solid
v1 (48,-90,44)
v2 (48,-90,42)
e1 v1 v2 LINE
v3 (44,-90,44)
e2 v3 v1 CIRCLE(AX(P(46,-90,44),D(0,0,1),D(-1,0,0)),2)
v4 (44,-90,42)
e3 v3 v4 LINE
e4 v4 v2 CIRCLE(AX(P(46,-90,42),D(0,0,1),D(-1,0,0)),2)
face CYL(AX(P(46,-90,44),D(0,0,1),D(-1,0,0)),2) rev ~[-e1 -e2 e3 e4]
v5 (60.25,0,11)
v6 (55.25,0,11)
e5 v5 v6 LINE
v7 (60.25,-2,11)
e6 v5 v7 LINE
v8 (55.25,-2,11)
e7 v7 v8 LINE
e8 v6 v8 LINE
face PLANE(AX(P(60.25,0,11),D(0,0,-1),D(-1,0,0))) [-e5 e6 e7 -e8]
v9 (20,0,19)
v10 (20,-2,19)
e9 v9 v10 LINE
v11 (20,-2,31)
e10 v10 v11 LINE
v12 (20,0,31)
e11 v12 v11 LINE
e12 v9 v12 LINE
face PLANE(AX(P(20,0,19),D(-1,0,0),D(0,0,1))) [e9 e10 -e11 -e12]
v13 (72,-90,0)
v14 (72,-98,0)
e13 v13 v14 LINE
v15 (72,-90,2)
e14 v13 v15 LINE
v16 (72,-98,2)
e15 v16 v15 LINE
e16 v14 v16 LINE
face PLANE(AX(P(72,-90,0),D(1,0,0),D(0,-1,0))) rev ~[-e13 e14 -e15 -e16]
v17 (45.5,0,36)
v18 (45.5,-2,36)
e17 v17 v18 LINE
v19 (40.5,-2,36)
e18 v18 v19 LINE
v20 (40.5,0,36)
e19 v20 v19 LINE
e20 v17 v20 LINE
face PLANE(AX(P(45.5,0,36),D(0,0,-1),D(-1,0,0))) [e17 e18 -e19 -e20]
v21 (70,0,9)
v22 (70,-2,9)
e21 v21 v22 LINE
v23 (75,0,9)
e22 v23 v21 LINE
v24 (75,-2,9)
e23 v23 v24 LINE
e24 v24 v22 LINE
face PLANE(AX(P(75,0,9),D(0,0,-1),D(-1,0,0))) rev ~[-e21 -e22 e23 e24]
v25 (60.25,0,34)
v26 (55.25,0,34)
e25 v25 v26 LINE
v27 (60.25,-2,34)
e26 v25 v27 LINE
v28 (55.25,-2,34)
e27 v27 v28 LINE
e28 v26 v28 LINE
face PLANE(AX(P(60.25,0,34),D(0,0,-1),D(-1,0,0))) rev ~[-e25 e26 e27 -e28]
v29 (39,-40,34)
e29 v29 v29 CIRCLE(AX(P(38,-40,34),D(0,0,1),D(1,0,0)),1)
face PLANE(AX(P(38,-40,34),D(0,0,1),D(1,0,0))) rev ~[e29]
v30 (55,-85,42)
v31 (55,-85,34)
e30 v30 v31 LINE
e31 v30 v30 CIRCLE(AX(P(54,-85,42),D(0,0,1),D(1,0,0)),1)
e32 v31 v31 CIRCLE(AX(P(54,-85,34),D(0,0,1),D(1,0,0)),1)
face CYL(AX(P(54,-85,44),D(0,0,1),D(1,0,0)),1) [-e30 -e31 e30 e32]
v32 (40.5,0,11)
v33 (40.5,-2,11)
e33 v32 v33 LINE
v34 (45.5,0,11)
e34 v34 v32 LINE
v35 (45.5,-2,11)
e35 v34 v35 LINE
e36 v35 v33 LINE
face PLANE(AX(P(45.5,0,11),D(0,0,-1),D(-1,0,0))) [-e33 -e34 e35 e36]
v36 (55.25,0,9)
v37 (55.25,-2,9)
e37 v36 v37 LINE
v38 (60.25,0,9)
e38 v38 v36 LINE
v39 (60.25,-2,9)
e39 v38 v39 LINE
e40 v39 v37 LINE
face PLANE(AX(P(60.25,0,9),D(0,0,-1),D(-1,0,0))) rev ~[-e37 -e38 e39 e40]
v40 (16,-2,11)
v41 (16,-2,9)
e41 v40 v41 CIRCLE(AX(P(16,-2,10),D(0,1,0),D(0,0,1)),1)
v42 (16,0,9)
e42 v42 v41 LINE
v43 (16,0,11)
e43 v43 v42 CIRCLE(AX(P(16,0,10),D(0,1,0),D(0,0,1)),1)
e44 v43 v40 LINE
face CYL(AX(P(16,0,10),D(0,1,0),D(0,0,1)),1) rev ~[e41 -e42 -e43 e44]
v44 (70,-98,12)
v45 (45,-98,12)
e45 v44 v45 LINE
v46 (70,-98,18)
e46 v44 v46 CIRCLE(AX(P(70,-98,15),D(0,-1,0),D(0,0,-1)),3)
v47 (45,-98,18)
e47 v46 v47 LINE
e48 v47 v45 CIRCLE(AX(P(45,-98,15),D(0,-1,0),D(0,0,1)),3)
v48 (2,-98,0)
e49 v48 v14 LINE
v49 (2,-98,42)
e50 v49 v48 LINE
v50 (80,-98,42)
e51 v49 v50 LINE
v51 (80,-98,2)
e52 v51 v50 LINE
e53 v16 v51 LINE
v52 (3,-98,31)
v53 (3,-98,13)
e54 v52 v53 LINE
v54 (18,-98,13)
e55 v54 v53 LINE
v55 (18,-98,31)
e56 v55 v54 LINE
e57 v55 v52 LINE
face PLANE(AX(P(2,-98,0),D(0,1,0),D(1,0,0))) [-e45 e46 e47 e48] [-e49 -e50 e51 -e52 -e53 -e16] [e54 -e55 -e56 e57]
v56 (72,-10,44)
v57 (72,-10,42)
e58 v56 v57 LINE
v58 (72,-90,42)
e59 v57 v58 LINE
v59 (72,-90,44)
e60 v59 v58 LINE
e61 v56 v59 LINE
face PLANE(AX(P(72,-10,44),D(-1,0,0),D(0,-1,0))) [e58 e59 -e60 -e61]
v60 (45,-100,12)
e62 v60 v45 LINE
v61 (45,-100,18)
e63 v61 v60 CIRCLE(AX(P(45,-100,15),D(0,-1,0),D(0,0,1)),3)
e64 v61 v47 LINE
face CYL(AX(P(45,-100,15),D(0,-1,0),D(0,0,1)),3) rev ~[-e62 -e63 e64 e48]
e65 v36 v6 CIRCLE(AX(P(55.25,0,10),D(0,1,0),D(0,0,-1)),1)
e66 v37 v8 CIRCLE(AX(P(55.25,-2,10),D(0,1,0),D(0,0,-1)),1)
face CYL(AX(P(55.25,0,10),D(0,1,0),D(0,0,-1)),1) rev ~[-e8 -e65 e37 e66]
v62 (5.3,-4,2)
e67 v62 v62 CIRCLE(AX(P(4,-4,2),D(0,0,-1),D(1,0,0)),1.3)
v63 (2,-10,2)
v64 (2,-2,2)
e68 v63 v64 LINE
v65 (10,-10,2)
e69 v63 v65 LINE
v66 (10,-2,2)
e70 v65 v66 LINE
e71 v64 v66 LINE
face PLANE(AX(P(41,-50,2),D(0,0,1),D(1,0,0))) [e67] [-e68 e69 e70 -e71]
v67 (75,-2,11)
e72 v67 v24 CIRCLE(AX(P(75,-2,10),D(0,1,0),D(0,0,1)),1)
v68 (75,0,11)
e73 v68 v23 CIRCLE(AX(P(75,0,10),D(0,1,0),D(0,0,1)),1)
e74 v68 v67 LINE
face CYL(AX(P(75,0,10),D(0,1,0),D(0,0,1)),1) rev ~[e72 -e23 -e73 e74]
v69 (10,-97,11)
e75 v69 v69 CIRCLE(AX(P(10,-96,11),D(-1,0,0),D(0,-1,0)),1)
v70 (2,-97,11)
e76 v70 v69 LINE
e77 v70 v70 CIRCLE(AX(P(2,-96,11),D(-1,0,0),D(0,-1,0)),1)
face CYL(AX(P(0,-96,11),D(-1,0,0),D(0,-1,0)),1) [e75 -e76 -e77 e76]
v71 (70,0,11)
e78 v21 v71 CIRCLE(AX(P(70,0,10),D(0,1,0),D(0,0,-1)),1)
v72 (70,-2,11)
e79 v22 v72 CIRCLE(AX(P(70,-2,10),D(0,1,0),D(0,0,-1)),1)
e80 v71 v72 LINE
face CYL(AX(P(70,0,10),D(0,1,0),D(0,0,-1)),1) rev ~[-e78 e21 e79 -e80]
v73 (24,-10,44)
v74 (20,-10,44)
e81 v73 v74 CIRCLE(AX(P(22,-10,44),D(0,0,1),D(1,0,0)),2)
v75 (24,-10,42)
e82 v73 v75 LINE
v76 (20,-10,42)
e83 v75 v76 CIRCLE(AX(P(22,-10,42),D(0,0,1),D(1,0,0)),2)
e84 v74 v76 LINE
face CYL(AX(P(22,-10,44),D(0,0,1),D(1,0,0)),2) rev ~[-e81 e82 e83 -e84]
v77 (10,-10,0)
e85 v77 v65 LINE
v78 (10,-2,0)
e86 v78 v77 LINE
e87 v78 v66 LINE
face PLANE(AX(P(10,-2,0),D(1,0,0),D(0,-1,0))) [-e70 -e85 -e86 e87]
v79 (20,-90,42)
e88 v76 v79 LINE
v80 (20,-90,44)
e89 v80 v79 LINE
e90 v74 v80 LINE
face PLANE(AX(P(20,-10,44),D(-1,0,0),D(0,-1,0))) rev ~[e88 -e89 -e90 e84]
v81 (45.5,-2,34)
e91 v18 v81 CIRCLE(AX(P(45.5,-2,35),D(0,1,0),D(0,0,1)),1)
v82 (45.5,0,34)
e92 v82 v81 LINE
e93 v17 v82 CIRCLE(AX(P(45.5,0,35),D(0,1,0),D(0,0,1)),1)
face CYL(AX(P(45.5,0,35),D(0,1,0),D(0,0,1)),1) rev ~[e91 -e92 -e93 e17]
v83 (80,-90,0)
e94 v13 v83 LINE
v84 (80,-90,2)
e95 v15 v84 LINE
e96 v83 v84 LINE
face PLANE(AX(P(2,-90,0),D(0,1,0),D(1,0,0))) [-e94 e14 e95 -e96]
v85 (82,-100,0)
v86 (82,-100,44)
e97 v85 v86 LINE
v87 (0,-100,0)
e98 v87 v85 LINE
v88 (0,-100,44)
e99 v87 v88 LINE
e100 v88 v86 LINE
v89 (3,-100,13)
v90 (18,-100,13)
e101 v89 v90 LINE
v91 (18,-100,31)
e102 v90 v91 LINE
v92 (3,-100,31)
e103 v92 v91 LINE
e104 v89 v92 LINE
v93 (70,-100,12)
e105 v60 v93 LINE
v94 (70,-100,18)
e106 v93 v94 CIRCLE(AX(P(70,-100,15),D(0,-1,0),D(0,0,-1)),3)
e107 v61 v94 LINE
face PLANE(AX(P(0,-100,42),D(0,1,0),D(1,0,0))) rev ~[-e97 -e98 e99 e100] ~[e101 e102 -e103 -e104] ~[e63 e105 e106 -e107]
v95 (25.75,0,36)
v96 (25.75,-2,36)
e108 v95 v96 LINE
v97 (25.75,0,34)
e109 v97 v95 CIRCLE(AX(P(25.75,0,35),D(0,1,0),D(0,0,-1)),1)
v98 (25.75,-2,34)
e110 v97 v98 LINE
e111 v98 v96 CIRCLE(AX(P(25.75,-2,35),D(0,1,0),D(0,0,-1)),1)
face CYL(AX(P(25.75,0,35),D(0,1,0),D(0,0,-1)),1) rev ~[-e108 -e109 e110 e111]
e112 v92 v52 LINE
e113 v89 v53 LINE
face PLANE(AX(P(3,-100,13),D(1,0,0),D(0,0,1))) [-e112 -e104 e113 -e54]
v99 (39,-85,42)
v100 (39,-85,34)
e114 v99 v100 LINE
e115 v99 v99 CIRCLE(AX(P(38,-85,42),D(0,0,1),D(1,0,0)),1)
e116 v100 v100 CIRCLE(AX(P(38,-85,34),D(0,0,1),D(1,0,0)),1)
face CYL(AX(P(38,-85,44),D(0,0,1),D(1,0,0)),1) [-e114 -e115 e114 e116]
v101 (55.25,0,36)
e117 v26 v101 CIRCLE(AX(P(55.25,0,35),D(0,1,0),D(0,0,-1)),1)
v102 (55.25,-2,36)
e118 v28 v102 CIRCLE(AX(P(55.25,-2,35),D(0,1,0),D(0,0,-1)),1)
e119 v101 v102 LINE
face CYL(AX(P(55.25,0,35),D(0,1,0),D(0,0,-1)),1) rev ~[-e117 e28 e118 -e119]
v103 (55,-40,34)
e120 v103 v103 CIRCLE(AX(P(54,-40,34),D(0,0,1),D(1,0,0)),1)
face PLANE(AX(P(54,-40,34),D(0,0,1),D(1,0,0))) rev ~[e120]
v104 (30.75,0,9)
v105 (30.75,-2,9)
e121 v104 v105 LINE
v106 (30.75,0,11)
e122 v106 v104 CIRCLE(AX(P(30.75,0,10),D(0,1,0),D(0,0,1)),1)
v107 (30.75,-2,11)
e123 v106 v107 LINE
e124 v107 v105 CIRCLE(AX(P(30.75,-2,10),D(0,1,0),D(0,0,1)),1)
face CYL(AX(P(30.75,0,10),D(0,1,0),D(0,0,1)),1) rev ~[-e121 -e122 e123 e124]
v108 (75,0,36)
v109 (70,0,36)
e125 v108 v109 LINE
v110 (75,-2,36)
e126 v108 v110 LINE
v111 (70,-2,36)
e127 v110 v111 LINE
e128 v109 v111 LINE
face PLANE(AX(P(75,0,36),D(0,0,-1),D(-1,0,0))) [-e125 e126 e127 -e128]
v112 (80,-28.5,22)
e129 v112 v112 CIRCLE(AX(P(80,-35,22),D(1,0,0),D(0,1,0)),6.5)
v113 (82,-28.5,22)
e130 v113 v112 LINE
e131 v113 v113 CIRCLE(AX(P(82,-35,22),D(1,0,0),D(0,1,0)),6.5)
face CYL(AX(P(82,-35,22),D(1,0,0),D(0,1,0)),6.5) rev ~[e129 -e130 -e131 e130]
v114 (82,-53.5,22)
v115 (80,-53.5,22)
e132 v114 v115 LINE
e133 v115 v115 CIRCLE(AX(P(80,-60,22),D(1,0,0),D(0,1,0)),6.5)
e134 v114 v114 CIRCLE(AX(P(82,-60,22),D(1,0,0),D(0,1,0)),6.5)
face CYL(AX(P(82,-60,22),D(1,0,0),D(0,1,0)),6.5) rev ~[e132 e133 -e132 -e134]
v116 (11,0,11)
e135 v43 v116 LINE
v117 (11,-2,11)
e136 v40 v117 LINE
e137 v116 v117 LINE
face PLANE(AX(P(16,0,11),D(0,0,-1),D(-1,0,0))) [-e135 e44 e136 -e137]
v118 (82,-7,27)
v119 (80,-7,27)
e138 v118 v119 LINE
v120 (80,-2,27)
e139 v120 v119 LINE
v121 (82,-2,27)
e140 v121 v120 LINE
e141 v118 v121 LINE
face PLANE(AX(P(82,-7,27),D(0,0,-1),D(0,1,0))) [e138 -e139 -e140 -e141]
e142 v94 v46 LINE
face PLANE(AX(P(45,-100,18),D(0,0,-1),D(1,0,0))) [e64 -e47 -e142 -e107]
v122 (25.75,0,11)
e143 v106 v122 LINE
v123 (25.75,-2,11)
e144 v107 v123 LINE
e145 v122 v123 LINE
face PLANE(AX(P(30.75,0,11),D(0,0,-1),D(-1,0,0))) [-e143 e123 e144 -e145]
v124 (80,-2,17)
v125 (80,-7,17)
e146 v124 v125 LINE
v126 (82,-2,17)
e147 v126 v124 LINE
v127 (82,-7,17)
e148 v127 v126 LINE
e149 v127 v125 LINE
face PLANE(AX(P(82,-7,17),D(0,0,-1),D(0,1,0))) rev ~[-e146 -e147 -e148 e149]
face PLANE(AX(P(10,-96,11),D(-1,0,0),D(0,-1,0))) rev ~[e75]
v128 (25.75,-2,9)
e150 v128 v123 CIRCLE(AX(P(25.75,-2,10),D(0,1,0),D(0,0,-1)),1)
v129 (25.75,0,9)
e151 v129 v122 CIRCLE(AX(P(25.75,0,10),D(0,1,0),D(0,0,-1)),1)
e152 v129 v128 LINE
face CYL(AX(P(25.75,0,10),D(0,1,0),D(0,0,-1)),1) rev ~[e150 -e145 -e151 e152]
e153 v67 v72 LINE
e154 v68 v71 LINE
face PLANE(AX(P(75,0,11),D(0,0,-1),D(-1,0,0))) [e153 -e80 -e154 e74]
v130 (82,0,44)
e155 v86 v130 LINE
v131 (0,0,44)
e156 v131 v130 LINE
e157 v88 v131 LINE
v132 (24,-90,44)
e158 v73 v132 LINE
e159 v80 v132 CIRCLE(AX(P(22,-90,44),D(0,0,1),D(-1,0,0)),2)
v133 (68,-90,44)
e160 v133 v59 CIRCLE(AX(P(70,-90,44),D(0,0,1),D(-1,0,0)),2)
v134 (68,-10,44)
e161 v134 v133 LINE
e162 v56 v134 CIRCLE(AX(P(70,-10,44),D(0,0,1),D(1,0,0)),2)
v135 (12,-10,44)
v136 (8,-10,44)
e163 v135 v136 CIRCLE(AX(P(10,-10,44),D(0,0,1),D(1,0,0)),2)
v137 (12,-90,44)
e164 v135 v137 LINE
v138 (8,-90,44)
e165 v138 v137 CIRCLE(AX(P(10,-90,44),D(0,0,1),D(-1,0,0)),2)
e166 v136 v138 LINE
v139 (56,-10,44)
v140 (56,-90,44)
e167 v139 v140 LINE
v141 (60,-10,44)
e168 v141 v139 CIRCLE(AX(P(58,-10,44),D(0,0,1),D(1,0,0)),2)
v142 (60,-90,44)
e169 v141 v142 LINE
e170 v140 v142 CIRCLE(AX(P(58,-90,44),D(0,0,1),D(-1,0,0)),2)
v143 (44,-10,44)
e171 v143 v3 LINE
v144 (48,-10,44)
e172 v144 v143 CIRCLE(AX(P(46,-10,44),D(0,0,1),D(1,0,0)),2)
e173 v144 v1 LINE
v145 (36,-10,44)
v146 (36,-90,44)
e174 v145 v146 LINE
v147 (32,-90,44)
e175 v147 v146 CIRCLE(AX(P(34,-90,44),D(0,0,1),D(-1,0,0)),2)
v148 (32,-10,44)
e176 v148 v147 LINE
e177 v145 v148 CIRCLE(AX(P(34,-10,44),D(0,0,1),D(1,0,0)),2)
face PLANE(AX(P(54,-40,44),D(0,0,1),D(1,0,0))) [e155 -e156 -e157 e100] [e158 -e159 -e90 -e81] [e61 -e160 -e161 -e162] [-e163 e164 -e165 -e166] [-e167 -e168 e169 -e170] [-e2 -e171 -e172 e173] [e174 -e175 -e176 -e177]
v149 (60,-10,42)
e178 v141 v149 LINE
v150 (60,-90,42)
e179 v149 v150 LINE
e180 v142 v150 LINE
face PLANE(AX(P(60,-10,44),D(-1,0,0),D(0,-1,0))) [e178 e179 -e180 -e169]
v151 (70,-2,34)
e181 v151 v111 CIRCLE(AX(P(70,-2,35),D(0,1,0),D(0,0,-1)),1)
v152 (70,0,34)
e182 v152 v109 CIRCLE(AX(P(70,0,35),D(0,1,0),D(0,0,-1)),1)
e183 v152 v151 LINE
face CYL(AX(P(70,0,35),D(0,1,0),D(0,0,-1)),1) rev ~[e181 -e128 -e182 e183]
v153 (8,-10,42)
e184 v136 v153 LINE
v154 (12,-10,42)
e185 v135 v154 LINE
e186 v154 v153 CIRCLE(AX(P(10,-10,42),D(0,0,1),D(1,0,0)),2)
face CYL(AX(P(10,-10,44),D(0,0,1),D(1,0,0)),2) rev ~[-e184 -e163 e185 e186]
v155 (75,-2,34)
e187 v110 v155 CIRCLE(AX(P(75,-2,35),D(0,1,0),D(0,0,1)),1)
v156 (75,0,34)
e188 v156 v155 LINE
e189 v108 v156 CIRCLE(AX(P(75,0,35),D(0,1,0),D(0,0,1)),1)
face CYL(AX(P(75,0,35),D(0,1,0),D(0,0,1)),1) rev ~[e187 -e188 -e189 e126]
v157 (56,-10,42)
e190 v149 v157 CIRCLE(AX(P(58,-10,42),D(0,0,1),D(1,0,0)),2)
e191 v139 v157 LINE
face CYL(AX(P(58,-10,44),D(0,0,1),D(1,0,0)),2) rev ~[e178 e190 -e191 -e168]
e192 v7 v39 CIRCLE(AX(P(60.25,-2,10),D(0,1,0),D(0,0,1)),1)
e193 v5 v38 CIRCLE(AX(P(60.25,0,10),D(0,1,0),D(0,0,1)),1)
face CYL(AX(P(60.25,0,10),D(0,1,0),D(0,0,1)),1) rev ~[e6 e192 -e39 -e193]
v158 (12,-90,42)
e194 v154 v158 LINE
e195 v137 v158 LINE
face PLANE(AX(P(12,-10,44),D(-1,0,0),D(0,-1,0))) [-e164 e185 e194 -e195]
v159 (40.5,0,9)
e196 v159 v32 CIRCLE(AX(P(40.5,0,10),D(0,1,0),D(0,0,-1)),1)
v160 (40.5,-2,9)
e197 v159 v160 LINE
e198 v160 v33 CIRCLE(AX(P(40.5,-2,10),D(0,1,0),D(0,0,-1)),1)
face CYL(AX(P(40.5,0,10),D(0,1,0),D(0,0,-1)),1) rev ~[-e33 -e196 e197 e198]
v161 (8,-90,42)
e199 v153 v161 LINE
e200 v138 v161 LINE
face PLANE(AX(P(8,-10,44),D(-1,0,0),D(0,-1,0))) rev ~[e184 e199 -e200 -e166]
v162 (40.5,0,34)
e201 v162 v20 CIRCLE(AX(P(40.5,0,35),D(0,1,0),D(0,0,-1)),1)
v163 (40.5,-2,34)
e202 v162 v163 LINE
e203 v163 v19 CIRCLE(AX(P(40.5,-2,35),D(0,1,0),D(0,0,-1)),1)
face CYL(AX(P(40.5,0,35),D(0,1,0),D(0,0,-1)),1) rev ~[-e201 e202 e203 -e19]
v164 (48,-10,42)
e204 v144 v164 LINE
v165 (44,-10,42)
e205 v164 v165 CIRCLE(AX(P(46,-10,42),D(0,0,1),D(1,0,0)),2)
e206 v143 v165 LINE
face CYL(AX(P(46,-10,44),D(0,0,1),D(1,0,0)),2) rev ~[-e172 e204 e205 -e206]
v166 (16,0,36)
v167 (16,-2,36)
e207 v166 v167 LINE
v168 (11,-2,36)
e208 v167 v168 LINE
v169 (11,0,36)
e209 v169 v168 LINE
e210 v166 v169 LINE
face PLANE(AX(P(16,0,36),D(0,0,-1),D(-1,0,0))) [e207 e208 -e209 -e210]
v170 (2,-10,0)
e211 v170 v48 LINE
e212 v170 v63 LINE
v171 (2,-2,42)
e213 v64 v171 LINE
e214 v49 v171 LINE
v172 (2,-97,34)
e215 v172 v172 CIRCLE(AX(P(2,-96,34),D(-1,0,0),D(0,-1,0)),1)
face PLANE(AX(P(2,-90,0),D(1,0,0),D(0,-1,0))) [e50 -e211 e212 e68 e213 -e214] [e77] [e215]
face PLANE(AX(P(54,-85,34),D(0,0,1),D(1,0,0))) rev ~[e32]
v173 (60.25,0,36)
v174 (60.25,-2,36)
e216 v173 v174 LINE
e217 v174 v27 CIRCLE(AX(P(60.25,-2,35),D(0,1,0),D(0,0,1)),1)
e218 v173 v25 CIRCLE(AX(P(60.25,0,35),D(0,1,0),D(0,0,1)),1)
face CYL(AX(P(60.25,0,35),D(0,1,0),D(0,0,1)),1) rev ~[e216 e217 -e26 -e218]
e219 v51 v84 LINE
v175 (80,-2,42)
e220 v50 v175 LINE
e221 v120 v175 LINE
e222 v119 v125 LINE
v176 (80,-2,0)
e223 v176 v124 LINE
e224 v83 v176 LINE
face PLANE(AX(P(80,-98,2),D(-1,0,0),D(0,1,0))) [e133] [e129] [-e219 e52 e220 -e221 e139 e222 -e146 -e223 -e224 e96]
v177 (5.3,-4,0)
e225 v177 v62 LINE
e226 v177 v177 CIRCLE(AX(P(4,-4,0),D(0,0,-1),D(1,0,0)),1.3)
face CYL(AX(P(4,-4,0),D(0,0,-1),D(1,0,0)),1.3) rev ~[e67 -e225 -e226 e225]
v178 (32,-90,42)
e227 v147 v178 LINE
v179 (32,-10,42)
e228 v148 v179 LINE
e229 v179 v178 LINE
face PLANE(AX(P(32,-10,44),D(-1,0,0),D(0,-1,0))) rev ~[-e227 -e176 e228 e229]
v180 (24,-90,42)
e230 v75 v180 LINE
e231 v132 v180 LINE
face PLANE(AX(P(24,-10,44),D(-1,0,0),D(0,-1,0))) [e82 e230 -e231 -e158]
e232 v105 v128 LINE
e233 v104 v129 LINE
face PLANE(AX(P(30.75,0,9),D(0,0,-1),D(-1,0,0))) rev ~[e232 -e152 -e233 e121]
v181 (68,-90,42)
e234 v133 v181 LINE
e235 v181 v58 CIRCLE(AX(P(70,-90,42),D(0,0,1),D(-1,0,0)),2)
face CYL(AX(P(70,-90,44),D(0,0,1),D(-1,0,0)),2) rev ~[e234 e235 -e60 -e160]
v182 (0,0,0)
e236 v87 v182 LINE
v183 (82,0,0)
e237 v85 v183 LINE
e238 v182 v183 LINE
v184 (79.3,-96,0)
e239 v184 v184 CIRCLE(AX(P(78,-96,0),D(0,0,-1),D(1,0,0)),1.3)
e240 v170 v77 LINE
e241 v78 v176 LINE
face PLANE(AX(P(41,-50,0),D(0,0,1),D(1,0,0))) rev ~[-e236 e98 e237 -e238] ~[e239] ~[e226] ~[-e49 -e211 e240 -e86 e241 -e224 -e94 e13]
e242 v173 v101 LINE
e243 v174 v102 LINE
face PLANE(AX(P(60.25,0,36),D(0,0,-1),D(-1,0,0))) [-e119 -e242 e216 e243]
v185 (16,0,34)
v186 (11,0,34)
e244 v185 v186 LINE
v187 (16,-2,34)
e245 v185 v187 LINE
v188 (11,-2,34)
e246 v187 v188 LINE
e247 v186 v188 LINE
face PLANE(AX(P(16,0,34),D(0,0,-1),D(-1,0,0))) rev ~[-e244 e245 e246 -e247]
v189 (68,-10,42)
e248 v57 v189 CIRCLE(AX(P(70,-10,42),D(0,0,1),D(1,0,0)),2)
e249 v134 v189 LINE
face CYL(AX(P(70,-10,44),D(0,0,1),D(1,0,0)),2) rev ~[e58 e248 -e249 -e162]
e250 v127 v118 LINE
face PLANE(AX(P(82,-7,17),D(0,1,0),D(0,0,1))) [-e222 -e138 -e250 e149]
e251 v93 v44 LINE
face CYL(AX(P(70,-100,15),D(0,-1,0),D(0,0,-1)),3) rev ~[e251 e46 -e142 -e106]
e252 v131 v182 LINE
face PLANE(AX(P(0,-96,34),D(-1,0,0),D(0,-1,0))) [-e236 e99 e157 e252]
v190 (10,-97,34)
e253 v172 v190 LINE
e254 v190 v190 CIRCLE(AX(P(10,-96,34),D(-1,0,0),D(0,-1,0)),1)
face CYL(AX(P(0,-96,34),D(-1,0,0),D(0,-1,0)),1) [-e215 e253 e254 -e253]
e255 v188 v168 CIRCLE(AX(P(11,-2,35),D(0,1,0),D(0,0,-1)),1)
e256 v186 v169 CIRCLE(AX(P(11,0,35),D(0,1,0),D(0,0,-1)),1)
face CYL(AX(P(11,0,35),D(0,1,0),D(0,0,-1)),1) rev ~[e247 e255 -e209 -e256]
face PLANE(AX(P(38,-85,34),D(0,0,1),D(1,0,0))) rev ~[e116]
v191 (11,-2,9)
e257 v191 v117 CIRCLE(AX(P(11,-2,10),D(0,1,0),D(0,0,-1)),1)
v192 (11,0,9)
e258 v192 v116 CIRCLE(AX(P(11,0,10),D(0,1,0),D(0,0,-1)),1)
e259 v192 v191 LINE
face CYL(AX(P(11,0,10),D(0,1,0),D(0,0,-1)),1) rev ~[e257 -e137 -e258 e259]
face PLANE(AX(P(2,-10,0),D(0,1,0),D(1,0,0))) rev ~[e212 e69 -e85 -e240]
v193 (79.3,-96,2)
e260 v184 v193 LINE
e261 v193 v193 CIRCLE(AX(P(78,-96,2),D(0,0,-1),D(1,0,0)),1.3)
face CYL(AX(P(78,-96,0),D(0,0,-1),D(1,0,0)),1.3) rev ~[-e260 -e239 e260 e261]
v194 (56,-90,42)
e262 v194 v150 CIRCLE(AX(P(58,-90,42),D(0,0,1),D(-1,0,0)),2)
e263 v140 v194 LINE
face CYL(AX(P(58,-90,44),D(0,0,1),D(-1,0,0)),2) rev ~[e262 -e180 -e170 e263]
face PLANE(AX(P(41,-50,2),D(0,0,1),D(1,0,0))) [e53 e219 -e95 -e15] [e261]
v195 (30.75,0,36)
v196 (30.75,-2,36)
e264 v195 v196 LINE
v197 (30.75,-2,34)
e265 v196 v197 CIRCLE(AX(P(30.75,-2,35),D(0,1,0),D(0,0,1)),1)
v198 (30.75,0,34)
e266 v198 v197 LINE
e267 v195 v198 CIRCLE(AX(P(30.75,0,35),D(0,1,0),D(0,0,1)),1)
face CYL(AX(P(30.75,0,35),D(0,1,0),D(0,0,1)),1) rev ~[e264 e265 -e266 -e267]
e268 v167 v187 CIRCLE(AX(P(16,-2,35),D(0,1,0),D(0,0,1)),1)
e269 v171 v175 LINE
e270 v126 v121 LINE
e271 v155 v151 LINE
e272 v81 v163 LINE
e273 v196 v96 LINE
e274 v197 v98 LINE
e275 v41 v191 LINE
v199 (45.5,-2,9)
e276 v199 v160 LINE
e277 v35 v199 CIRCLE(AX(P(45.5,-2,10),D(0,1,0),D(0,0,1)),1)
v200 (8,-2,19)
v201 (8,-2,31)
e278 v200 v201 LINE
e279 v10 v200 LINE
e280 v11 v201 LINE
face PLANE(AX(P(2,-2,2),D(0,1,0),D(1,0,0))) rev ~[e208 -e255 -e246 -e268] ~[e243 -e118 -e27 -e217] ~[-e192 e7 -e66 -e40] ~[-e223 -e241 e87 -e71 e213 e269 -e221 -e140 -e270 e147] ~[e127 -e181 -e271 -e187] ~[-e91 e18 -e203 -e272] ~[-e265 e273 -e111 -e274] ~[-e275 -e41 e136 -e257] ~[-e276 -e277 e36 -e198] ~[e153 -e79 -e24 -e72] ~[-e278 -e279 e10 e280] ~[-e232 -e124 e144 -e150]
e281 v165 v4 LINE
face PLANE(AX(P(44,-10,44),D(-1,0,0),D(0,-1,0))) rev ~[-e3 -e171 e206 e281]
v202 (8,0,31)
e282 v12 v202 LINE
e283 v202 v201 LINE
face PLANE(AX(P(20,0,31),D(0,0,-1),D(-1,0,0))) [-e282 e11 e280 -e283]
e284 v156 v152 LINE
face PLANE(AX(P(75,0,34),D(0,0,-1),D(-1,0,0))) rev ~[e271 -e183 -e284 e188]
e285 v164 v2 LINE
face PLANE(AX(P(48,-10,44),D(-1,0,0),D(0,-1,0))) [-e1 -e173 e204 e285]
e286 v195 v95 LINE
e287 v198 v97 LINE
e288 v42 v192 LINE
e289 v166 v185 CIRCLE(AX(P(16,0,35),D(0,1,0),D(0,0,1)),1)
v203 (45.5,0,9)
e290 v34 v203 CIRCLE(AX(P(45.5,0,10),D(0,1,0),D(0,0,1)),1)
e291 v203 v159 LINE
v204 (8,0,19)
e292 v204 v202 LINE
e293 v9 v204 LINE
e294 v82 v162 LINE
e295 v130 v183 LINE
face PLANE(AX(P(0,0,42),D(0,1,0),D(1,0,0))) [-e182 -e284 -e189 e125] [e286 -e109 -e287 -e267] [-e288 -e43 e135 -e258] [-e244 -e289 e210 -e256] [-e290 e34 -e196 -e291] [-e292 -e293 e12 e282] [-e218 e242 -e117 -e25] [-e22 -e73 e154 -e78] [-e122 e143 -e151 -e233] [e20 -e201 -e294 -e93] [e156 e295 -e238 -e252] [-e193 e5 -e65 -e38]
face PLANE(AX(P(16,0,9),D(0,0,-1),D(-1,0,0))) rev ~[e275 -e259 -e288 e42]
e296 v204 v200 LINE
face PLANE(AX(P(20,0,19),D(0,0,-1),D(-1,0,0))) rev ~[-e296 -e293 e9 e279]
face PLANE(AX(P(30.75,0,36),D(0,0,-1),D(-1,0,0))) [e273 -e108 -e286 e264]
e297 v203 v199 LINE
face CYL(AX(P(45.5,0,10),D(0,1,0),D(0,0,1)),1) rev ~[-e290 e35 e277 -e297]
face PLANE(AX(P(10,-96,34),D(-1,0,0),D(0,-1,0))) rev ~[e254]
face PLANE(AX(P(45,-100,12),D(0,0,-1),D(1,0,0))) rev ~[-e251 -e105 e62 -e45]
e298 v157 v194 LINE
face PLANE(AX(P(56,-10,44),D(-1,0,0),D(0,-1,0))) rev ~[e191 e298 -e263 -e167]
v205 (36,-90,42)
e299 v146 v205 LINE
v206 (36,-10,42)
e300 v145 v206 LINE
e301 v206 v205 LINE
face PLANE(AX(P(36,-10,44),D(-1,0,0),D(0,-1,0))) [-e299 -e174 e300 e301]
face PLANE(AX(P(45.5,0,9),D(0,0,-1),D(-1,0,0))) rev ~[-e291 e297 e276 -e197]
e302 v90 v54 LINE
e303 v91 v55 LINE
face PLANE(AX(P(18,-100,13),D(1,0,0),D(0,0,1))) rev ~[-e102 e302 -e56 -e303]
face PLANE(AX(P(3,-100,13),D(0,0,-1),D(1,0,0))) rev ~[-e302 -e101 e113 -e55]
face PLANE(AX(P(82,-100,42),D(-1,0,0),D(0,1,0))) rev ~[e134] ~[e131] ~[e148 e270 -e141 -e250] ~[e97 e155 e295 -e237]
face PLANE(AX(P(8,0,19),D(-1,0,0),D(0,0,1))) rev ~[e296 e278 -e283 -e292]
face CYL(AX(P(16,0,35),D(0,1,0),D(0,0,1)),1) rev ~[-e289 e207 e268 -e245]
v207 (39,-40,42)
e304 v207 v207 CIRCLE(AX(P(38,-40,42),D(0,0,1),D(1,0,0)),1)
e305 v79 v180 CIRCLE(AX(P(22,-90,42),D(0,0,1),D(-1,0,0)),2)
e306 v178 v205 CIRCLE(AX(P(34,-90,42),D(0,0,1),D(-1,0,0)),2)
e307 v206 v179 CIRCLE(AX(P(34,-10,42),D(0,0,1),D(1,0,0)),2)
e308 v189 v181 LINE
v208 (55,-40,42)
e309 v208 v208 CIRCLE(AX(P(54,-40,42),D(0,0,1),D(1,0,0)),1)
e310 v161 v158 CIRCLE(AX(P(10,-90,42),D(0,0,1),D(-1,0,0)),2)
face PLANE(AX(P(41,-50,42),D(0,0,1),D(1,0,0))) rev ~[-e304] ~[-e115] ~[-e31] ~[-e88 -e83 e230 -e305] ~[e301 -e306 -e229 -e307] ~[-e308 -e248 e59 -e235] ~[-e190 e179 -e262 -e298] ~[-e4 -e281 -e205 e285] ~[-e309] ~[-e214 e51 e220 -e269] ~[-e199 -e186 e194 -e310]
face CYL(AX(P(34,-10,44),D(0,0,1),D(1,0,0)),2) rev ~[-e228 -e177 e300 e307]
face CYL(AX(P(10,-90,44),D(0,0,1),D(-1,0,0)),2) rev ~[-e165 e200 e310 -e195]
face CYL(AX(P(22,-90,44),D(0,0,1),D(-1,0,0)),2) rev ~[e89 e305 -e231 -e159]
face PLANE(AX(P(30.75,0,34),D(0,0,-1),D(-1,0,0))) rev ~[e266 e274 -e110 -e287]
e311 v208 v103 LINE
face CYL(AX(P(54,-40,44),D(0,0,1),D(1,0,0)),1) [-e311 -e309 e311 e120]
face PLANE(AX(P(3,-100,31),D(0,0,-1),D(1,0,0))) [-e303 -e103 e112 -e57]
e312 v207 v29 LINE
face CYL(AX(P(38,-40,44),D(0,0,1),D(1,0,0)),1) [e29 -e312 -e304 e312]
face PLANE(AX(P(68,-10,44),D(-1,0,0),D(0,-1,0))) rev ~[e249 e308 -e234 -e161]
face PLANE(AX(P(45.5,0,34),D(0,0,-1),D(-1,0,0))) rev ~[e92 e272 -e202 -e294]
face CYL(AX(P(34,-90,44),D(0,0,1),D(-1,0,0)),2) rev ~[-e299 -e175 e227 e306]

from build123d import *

# Parameters (mm, degrees)
SKETCH_W               = 82
SKETCH_H               = 100
SKETCH_W_2             = 78
SKETCH_H_2             = 80
PAD_DEPTH              = 2
SKETCH001_W            = 82
SKETCH001_H            = 100
SKETCH001_W_2          = 78
SKETCH001_H_2          = 96
PAD001_DEPTH           = 40
SKETCH002_R            = 6.5
SKETCH002_W            = 5
SKETCH002_H            = 10
POCKET_DEPTH           = 5
SKETCH003_W            = 82
SKETCH003_H            = 100
PAD002_DEPTH           = 2
SKETCH004_W            = 15
SKETCH004_H            = 18
POCKET001_DEPTH        = 5
SKETCH005_R            = 1
PAD003_DEPTH           = 10
POCKET002_DEPTH        = 5
LINEARPATTERN_COUNT    = 5
LINEARPATTERN_PITCH    = 14.75
SKETCH007_W            = 12
SKETCH007_H            = 12
POCKET003_DEPTH        = 5
POCKET004_DEPTH        = 5
LINEARPATTERN001_COUNT = 6
LINEARPATTERN001_PITCH = 12
SKETCH009_R            = 1
PAD004_DEPTH           = 10
SKETCH010_R            = 1.3
SKETCH010_W            = 70
SKETCH010_H            = 8
POCKET005_DEPTH        = 3


with BuildPart() as part:
    # Sketch → Pad (new body)
    with BuildSketch(Plane.XY):
        with Locations((41, -50)):
            Rectangle(SKETCH_W, SKETCH_H)
        with Locations((41, -50)):
            Rectangle(SKETCH_W_2, SKETCH_H_2, mode=Mode.SUBTRACT)
    extrude(amount=PAD_DEPTH)

    # Sketch001 (on Face10 of Pad) → Pad001 (join)
    with BuildSketch(Plane.XY.offset(2)):
        with Locations((41, -50)):
            Rectangle(SKETCH001_W, SKETCH001_H)
        with Locations((41, -50)):
            Rectangle(SKETCH001_W_2, SKETCH001_H_2, mode=Mode.SUBTRACT)
    extrude(amount=PAD001_DEPTH)

    # Sketch002 (on Face8 of Pad001) → Pocket (cut)
    with BuildSketch(Plane.YZ.offset(82)):
        with Locations((-60, 22)):
            Circle(SKETCH002_R)
        with Locations((-35, 22)):
            Circle(SKETCH002_R)
        with Locations((-4.5, 22)):
            Rectangle(SKETCH002_W, SKETCH002_H)
    extrude(amount=-POCKET_DEPTH, mode=Mode.SUBTRACT)

    # Sketch003 (on Face13 of Pocket) → Pad002 (join)
    with BuildSketch(Plane.XY.offset(42)):
        with Locations((41, -50)):
            Rectangle(SKETCH003_W, SKETCH003_H)
    extrude(amount=PAD002_DEPTH)

    # Sketch004 (on Face5 of Pad002) → Pocket001 (cut)
    with BuildSketch(Plane.XZ.offset(100)):
        with BuildLine():
            ThreePointArc((45, 18), (42, 15), (45, 12))
            Line((45, 12), (70, 12))
            ThreePointArc((70, 12), (73, 15), (70, 18))
            Line((45, 18), (70, 18))
        make_face()
        with Locations((10.5, 22)):
            Rectangle(SKETCH004_W, SKETCH004_H)
    extrude(amount=-POCKET001_DEPTH, mode=Mode.SUBTRACT)

    # Sketch005 (on Face7 of Pocket001) → Pad003 (join)
    with BuildSketch(Plane(origin=(0, 0, 0), x_dir=(0, -1, 0), z_dir=(-1, 0, 0))):
        with Locations((96, 34)):
            Circle(SKETCH005_R)
        with Locations((96, 11)):
            Circle(SKETCH005_R)
    extrude(amount=-PAD003_DEPTH)

    # Sketch006 (on Face22 of Pad003) → Pocket002 (cut)
    with BuildSketch(Plane(origin=(0, 0, 0), x_dir=(-1, 0, 0), z_dir=(0, 1, 0))):
        with BuildLine():
            ThreePointArc((-75, 11), (-76, 10), (-75, 9))
            Line((-75, 9), (-70, 9))
            ThreePointArc((-70, 9), (-69, 10), (-70, 11))
            Line((-75, 11), (-70, 11))
        make_face()
        with BuildLine():
            ThreePointArc((-75, 36), (-76, 35), (-75, 34))
            Line((-75, 34), (-70, 34))
            ThreePointArc((-70, 34), (-69, 35), (-70, 36))
            Line((-75, 36), (-70, 36))
        make_face()
    pocket002 = extrude(amount=-POCKET002_DEPTH, mode=Mode.SUBTRACT)

    # LinearPattern: Pocket002 ×5
    with Locations(*[(-i * LINEARPATTERN_PITCH, 0, 0) for i in range(1, LINEARPATTERN_COUNT)]):
        add(pocket002, mode=Mode.SUBTRACT)

    # Sketch007 (on Face22 of LinearPattern) → Pocket003 (cut)
    with BuildSketch(Plane(origin=(0, 0, 0), x_dir=(-1, 0, 0), z_dir=(0, 1, 0))):
        with Locations((-14, 25)):
            Rectangle(SKETCH007_W, SKETCH007_H)
    extrude(amount=-POCKET003_DEPTH, mode=Mode.SUBTRACT)

    # Sketch008 (on Face37 of Pocket003) → Pocket004 (cut)
    with BuildSketch(Plane.XY.offset(44)):
        with BuildLine():
            ThreePointArc((12, -10), (10, -8), (8, -10))
            Line((8, -10), (8, -90))
            ThreePointArc((8, -90), (10, -92), (12, -90))
            Line((12, -10), (12, -90))
        make_face()
    pocket004 = extrude(amount=-POCKET004_DEPTH, mode=Mode.SUBTRACT)

    # LinearPattern001: Pocket004 ×6
    with Locations(*[(i * LINEARPATTERN001_PITCH, 0, 0) for i in range(1, LINEARPATTERN001_COUNT)]):
        add(pocket004, mode=Mode.SUBTRACT)

    # Sketch009 (on Face37 of LinearPattern001) → Pad004 (join)
    with BuildSketch(Plane.XY.offset(44)):
        with Locations((54, -40)):
            Circle(SKETCH009_R)
        with Locations((38, -40)):
            Circle(SKETCH009_R)
        with Locations((38, -85)):
            Circle(SKETCH009_R)
        with Locations((54, -85)):
            Circle(SKETCH009_R)
    extrude(amount=-PAD004_DEPTH)

    # Sketch010 (on Face4 of Pad004) → Pocket005 (cut)
    with BuildSketch(Plane(origin=(0, 0, 0), x_dir=(1, 0, 0), z_dir=(0, 0, -1))):
        with Locations((4, 4)):
            Circle(SKETCH010_R)
        with Locations((78, 96)):
            Circle(SKETCH010_R)
        with Locations((45, 6)):
            Rectangle(SKETCH010_W, SKETCH010_H)
        with Locations((37, 94)):
            Rectangle(SKETCH010_W, SKETCH010_H)
    extrude(amount=-POCKET005_DEPTH, mode=Mode.SUBTRACT)


solid = part.part
